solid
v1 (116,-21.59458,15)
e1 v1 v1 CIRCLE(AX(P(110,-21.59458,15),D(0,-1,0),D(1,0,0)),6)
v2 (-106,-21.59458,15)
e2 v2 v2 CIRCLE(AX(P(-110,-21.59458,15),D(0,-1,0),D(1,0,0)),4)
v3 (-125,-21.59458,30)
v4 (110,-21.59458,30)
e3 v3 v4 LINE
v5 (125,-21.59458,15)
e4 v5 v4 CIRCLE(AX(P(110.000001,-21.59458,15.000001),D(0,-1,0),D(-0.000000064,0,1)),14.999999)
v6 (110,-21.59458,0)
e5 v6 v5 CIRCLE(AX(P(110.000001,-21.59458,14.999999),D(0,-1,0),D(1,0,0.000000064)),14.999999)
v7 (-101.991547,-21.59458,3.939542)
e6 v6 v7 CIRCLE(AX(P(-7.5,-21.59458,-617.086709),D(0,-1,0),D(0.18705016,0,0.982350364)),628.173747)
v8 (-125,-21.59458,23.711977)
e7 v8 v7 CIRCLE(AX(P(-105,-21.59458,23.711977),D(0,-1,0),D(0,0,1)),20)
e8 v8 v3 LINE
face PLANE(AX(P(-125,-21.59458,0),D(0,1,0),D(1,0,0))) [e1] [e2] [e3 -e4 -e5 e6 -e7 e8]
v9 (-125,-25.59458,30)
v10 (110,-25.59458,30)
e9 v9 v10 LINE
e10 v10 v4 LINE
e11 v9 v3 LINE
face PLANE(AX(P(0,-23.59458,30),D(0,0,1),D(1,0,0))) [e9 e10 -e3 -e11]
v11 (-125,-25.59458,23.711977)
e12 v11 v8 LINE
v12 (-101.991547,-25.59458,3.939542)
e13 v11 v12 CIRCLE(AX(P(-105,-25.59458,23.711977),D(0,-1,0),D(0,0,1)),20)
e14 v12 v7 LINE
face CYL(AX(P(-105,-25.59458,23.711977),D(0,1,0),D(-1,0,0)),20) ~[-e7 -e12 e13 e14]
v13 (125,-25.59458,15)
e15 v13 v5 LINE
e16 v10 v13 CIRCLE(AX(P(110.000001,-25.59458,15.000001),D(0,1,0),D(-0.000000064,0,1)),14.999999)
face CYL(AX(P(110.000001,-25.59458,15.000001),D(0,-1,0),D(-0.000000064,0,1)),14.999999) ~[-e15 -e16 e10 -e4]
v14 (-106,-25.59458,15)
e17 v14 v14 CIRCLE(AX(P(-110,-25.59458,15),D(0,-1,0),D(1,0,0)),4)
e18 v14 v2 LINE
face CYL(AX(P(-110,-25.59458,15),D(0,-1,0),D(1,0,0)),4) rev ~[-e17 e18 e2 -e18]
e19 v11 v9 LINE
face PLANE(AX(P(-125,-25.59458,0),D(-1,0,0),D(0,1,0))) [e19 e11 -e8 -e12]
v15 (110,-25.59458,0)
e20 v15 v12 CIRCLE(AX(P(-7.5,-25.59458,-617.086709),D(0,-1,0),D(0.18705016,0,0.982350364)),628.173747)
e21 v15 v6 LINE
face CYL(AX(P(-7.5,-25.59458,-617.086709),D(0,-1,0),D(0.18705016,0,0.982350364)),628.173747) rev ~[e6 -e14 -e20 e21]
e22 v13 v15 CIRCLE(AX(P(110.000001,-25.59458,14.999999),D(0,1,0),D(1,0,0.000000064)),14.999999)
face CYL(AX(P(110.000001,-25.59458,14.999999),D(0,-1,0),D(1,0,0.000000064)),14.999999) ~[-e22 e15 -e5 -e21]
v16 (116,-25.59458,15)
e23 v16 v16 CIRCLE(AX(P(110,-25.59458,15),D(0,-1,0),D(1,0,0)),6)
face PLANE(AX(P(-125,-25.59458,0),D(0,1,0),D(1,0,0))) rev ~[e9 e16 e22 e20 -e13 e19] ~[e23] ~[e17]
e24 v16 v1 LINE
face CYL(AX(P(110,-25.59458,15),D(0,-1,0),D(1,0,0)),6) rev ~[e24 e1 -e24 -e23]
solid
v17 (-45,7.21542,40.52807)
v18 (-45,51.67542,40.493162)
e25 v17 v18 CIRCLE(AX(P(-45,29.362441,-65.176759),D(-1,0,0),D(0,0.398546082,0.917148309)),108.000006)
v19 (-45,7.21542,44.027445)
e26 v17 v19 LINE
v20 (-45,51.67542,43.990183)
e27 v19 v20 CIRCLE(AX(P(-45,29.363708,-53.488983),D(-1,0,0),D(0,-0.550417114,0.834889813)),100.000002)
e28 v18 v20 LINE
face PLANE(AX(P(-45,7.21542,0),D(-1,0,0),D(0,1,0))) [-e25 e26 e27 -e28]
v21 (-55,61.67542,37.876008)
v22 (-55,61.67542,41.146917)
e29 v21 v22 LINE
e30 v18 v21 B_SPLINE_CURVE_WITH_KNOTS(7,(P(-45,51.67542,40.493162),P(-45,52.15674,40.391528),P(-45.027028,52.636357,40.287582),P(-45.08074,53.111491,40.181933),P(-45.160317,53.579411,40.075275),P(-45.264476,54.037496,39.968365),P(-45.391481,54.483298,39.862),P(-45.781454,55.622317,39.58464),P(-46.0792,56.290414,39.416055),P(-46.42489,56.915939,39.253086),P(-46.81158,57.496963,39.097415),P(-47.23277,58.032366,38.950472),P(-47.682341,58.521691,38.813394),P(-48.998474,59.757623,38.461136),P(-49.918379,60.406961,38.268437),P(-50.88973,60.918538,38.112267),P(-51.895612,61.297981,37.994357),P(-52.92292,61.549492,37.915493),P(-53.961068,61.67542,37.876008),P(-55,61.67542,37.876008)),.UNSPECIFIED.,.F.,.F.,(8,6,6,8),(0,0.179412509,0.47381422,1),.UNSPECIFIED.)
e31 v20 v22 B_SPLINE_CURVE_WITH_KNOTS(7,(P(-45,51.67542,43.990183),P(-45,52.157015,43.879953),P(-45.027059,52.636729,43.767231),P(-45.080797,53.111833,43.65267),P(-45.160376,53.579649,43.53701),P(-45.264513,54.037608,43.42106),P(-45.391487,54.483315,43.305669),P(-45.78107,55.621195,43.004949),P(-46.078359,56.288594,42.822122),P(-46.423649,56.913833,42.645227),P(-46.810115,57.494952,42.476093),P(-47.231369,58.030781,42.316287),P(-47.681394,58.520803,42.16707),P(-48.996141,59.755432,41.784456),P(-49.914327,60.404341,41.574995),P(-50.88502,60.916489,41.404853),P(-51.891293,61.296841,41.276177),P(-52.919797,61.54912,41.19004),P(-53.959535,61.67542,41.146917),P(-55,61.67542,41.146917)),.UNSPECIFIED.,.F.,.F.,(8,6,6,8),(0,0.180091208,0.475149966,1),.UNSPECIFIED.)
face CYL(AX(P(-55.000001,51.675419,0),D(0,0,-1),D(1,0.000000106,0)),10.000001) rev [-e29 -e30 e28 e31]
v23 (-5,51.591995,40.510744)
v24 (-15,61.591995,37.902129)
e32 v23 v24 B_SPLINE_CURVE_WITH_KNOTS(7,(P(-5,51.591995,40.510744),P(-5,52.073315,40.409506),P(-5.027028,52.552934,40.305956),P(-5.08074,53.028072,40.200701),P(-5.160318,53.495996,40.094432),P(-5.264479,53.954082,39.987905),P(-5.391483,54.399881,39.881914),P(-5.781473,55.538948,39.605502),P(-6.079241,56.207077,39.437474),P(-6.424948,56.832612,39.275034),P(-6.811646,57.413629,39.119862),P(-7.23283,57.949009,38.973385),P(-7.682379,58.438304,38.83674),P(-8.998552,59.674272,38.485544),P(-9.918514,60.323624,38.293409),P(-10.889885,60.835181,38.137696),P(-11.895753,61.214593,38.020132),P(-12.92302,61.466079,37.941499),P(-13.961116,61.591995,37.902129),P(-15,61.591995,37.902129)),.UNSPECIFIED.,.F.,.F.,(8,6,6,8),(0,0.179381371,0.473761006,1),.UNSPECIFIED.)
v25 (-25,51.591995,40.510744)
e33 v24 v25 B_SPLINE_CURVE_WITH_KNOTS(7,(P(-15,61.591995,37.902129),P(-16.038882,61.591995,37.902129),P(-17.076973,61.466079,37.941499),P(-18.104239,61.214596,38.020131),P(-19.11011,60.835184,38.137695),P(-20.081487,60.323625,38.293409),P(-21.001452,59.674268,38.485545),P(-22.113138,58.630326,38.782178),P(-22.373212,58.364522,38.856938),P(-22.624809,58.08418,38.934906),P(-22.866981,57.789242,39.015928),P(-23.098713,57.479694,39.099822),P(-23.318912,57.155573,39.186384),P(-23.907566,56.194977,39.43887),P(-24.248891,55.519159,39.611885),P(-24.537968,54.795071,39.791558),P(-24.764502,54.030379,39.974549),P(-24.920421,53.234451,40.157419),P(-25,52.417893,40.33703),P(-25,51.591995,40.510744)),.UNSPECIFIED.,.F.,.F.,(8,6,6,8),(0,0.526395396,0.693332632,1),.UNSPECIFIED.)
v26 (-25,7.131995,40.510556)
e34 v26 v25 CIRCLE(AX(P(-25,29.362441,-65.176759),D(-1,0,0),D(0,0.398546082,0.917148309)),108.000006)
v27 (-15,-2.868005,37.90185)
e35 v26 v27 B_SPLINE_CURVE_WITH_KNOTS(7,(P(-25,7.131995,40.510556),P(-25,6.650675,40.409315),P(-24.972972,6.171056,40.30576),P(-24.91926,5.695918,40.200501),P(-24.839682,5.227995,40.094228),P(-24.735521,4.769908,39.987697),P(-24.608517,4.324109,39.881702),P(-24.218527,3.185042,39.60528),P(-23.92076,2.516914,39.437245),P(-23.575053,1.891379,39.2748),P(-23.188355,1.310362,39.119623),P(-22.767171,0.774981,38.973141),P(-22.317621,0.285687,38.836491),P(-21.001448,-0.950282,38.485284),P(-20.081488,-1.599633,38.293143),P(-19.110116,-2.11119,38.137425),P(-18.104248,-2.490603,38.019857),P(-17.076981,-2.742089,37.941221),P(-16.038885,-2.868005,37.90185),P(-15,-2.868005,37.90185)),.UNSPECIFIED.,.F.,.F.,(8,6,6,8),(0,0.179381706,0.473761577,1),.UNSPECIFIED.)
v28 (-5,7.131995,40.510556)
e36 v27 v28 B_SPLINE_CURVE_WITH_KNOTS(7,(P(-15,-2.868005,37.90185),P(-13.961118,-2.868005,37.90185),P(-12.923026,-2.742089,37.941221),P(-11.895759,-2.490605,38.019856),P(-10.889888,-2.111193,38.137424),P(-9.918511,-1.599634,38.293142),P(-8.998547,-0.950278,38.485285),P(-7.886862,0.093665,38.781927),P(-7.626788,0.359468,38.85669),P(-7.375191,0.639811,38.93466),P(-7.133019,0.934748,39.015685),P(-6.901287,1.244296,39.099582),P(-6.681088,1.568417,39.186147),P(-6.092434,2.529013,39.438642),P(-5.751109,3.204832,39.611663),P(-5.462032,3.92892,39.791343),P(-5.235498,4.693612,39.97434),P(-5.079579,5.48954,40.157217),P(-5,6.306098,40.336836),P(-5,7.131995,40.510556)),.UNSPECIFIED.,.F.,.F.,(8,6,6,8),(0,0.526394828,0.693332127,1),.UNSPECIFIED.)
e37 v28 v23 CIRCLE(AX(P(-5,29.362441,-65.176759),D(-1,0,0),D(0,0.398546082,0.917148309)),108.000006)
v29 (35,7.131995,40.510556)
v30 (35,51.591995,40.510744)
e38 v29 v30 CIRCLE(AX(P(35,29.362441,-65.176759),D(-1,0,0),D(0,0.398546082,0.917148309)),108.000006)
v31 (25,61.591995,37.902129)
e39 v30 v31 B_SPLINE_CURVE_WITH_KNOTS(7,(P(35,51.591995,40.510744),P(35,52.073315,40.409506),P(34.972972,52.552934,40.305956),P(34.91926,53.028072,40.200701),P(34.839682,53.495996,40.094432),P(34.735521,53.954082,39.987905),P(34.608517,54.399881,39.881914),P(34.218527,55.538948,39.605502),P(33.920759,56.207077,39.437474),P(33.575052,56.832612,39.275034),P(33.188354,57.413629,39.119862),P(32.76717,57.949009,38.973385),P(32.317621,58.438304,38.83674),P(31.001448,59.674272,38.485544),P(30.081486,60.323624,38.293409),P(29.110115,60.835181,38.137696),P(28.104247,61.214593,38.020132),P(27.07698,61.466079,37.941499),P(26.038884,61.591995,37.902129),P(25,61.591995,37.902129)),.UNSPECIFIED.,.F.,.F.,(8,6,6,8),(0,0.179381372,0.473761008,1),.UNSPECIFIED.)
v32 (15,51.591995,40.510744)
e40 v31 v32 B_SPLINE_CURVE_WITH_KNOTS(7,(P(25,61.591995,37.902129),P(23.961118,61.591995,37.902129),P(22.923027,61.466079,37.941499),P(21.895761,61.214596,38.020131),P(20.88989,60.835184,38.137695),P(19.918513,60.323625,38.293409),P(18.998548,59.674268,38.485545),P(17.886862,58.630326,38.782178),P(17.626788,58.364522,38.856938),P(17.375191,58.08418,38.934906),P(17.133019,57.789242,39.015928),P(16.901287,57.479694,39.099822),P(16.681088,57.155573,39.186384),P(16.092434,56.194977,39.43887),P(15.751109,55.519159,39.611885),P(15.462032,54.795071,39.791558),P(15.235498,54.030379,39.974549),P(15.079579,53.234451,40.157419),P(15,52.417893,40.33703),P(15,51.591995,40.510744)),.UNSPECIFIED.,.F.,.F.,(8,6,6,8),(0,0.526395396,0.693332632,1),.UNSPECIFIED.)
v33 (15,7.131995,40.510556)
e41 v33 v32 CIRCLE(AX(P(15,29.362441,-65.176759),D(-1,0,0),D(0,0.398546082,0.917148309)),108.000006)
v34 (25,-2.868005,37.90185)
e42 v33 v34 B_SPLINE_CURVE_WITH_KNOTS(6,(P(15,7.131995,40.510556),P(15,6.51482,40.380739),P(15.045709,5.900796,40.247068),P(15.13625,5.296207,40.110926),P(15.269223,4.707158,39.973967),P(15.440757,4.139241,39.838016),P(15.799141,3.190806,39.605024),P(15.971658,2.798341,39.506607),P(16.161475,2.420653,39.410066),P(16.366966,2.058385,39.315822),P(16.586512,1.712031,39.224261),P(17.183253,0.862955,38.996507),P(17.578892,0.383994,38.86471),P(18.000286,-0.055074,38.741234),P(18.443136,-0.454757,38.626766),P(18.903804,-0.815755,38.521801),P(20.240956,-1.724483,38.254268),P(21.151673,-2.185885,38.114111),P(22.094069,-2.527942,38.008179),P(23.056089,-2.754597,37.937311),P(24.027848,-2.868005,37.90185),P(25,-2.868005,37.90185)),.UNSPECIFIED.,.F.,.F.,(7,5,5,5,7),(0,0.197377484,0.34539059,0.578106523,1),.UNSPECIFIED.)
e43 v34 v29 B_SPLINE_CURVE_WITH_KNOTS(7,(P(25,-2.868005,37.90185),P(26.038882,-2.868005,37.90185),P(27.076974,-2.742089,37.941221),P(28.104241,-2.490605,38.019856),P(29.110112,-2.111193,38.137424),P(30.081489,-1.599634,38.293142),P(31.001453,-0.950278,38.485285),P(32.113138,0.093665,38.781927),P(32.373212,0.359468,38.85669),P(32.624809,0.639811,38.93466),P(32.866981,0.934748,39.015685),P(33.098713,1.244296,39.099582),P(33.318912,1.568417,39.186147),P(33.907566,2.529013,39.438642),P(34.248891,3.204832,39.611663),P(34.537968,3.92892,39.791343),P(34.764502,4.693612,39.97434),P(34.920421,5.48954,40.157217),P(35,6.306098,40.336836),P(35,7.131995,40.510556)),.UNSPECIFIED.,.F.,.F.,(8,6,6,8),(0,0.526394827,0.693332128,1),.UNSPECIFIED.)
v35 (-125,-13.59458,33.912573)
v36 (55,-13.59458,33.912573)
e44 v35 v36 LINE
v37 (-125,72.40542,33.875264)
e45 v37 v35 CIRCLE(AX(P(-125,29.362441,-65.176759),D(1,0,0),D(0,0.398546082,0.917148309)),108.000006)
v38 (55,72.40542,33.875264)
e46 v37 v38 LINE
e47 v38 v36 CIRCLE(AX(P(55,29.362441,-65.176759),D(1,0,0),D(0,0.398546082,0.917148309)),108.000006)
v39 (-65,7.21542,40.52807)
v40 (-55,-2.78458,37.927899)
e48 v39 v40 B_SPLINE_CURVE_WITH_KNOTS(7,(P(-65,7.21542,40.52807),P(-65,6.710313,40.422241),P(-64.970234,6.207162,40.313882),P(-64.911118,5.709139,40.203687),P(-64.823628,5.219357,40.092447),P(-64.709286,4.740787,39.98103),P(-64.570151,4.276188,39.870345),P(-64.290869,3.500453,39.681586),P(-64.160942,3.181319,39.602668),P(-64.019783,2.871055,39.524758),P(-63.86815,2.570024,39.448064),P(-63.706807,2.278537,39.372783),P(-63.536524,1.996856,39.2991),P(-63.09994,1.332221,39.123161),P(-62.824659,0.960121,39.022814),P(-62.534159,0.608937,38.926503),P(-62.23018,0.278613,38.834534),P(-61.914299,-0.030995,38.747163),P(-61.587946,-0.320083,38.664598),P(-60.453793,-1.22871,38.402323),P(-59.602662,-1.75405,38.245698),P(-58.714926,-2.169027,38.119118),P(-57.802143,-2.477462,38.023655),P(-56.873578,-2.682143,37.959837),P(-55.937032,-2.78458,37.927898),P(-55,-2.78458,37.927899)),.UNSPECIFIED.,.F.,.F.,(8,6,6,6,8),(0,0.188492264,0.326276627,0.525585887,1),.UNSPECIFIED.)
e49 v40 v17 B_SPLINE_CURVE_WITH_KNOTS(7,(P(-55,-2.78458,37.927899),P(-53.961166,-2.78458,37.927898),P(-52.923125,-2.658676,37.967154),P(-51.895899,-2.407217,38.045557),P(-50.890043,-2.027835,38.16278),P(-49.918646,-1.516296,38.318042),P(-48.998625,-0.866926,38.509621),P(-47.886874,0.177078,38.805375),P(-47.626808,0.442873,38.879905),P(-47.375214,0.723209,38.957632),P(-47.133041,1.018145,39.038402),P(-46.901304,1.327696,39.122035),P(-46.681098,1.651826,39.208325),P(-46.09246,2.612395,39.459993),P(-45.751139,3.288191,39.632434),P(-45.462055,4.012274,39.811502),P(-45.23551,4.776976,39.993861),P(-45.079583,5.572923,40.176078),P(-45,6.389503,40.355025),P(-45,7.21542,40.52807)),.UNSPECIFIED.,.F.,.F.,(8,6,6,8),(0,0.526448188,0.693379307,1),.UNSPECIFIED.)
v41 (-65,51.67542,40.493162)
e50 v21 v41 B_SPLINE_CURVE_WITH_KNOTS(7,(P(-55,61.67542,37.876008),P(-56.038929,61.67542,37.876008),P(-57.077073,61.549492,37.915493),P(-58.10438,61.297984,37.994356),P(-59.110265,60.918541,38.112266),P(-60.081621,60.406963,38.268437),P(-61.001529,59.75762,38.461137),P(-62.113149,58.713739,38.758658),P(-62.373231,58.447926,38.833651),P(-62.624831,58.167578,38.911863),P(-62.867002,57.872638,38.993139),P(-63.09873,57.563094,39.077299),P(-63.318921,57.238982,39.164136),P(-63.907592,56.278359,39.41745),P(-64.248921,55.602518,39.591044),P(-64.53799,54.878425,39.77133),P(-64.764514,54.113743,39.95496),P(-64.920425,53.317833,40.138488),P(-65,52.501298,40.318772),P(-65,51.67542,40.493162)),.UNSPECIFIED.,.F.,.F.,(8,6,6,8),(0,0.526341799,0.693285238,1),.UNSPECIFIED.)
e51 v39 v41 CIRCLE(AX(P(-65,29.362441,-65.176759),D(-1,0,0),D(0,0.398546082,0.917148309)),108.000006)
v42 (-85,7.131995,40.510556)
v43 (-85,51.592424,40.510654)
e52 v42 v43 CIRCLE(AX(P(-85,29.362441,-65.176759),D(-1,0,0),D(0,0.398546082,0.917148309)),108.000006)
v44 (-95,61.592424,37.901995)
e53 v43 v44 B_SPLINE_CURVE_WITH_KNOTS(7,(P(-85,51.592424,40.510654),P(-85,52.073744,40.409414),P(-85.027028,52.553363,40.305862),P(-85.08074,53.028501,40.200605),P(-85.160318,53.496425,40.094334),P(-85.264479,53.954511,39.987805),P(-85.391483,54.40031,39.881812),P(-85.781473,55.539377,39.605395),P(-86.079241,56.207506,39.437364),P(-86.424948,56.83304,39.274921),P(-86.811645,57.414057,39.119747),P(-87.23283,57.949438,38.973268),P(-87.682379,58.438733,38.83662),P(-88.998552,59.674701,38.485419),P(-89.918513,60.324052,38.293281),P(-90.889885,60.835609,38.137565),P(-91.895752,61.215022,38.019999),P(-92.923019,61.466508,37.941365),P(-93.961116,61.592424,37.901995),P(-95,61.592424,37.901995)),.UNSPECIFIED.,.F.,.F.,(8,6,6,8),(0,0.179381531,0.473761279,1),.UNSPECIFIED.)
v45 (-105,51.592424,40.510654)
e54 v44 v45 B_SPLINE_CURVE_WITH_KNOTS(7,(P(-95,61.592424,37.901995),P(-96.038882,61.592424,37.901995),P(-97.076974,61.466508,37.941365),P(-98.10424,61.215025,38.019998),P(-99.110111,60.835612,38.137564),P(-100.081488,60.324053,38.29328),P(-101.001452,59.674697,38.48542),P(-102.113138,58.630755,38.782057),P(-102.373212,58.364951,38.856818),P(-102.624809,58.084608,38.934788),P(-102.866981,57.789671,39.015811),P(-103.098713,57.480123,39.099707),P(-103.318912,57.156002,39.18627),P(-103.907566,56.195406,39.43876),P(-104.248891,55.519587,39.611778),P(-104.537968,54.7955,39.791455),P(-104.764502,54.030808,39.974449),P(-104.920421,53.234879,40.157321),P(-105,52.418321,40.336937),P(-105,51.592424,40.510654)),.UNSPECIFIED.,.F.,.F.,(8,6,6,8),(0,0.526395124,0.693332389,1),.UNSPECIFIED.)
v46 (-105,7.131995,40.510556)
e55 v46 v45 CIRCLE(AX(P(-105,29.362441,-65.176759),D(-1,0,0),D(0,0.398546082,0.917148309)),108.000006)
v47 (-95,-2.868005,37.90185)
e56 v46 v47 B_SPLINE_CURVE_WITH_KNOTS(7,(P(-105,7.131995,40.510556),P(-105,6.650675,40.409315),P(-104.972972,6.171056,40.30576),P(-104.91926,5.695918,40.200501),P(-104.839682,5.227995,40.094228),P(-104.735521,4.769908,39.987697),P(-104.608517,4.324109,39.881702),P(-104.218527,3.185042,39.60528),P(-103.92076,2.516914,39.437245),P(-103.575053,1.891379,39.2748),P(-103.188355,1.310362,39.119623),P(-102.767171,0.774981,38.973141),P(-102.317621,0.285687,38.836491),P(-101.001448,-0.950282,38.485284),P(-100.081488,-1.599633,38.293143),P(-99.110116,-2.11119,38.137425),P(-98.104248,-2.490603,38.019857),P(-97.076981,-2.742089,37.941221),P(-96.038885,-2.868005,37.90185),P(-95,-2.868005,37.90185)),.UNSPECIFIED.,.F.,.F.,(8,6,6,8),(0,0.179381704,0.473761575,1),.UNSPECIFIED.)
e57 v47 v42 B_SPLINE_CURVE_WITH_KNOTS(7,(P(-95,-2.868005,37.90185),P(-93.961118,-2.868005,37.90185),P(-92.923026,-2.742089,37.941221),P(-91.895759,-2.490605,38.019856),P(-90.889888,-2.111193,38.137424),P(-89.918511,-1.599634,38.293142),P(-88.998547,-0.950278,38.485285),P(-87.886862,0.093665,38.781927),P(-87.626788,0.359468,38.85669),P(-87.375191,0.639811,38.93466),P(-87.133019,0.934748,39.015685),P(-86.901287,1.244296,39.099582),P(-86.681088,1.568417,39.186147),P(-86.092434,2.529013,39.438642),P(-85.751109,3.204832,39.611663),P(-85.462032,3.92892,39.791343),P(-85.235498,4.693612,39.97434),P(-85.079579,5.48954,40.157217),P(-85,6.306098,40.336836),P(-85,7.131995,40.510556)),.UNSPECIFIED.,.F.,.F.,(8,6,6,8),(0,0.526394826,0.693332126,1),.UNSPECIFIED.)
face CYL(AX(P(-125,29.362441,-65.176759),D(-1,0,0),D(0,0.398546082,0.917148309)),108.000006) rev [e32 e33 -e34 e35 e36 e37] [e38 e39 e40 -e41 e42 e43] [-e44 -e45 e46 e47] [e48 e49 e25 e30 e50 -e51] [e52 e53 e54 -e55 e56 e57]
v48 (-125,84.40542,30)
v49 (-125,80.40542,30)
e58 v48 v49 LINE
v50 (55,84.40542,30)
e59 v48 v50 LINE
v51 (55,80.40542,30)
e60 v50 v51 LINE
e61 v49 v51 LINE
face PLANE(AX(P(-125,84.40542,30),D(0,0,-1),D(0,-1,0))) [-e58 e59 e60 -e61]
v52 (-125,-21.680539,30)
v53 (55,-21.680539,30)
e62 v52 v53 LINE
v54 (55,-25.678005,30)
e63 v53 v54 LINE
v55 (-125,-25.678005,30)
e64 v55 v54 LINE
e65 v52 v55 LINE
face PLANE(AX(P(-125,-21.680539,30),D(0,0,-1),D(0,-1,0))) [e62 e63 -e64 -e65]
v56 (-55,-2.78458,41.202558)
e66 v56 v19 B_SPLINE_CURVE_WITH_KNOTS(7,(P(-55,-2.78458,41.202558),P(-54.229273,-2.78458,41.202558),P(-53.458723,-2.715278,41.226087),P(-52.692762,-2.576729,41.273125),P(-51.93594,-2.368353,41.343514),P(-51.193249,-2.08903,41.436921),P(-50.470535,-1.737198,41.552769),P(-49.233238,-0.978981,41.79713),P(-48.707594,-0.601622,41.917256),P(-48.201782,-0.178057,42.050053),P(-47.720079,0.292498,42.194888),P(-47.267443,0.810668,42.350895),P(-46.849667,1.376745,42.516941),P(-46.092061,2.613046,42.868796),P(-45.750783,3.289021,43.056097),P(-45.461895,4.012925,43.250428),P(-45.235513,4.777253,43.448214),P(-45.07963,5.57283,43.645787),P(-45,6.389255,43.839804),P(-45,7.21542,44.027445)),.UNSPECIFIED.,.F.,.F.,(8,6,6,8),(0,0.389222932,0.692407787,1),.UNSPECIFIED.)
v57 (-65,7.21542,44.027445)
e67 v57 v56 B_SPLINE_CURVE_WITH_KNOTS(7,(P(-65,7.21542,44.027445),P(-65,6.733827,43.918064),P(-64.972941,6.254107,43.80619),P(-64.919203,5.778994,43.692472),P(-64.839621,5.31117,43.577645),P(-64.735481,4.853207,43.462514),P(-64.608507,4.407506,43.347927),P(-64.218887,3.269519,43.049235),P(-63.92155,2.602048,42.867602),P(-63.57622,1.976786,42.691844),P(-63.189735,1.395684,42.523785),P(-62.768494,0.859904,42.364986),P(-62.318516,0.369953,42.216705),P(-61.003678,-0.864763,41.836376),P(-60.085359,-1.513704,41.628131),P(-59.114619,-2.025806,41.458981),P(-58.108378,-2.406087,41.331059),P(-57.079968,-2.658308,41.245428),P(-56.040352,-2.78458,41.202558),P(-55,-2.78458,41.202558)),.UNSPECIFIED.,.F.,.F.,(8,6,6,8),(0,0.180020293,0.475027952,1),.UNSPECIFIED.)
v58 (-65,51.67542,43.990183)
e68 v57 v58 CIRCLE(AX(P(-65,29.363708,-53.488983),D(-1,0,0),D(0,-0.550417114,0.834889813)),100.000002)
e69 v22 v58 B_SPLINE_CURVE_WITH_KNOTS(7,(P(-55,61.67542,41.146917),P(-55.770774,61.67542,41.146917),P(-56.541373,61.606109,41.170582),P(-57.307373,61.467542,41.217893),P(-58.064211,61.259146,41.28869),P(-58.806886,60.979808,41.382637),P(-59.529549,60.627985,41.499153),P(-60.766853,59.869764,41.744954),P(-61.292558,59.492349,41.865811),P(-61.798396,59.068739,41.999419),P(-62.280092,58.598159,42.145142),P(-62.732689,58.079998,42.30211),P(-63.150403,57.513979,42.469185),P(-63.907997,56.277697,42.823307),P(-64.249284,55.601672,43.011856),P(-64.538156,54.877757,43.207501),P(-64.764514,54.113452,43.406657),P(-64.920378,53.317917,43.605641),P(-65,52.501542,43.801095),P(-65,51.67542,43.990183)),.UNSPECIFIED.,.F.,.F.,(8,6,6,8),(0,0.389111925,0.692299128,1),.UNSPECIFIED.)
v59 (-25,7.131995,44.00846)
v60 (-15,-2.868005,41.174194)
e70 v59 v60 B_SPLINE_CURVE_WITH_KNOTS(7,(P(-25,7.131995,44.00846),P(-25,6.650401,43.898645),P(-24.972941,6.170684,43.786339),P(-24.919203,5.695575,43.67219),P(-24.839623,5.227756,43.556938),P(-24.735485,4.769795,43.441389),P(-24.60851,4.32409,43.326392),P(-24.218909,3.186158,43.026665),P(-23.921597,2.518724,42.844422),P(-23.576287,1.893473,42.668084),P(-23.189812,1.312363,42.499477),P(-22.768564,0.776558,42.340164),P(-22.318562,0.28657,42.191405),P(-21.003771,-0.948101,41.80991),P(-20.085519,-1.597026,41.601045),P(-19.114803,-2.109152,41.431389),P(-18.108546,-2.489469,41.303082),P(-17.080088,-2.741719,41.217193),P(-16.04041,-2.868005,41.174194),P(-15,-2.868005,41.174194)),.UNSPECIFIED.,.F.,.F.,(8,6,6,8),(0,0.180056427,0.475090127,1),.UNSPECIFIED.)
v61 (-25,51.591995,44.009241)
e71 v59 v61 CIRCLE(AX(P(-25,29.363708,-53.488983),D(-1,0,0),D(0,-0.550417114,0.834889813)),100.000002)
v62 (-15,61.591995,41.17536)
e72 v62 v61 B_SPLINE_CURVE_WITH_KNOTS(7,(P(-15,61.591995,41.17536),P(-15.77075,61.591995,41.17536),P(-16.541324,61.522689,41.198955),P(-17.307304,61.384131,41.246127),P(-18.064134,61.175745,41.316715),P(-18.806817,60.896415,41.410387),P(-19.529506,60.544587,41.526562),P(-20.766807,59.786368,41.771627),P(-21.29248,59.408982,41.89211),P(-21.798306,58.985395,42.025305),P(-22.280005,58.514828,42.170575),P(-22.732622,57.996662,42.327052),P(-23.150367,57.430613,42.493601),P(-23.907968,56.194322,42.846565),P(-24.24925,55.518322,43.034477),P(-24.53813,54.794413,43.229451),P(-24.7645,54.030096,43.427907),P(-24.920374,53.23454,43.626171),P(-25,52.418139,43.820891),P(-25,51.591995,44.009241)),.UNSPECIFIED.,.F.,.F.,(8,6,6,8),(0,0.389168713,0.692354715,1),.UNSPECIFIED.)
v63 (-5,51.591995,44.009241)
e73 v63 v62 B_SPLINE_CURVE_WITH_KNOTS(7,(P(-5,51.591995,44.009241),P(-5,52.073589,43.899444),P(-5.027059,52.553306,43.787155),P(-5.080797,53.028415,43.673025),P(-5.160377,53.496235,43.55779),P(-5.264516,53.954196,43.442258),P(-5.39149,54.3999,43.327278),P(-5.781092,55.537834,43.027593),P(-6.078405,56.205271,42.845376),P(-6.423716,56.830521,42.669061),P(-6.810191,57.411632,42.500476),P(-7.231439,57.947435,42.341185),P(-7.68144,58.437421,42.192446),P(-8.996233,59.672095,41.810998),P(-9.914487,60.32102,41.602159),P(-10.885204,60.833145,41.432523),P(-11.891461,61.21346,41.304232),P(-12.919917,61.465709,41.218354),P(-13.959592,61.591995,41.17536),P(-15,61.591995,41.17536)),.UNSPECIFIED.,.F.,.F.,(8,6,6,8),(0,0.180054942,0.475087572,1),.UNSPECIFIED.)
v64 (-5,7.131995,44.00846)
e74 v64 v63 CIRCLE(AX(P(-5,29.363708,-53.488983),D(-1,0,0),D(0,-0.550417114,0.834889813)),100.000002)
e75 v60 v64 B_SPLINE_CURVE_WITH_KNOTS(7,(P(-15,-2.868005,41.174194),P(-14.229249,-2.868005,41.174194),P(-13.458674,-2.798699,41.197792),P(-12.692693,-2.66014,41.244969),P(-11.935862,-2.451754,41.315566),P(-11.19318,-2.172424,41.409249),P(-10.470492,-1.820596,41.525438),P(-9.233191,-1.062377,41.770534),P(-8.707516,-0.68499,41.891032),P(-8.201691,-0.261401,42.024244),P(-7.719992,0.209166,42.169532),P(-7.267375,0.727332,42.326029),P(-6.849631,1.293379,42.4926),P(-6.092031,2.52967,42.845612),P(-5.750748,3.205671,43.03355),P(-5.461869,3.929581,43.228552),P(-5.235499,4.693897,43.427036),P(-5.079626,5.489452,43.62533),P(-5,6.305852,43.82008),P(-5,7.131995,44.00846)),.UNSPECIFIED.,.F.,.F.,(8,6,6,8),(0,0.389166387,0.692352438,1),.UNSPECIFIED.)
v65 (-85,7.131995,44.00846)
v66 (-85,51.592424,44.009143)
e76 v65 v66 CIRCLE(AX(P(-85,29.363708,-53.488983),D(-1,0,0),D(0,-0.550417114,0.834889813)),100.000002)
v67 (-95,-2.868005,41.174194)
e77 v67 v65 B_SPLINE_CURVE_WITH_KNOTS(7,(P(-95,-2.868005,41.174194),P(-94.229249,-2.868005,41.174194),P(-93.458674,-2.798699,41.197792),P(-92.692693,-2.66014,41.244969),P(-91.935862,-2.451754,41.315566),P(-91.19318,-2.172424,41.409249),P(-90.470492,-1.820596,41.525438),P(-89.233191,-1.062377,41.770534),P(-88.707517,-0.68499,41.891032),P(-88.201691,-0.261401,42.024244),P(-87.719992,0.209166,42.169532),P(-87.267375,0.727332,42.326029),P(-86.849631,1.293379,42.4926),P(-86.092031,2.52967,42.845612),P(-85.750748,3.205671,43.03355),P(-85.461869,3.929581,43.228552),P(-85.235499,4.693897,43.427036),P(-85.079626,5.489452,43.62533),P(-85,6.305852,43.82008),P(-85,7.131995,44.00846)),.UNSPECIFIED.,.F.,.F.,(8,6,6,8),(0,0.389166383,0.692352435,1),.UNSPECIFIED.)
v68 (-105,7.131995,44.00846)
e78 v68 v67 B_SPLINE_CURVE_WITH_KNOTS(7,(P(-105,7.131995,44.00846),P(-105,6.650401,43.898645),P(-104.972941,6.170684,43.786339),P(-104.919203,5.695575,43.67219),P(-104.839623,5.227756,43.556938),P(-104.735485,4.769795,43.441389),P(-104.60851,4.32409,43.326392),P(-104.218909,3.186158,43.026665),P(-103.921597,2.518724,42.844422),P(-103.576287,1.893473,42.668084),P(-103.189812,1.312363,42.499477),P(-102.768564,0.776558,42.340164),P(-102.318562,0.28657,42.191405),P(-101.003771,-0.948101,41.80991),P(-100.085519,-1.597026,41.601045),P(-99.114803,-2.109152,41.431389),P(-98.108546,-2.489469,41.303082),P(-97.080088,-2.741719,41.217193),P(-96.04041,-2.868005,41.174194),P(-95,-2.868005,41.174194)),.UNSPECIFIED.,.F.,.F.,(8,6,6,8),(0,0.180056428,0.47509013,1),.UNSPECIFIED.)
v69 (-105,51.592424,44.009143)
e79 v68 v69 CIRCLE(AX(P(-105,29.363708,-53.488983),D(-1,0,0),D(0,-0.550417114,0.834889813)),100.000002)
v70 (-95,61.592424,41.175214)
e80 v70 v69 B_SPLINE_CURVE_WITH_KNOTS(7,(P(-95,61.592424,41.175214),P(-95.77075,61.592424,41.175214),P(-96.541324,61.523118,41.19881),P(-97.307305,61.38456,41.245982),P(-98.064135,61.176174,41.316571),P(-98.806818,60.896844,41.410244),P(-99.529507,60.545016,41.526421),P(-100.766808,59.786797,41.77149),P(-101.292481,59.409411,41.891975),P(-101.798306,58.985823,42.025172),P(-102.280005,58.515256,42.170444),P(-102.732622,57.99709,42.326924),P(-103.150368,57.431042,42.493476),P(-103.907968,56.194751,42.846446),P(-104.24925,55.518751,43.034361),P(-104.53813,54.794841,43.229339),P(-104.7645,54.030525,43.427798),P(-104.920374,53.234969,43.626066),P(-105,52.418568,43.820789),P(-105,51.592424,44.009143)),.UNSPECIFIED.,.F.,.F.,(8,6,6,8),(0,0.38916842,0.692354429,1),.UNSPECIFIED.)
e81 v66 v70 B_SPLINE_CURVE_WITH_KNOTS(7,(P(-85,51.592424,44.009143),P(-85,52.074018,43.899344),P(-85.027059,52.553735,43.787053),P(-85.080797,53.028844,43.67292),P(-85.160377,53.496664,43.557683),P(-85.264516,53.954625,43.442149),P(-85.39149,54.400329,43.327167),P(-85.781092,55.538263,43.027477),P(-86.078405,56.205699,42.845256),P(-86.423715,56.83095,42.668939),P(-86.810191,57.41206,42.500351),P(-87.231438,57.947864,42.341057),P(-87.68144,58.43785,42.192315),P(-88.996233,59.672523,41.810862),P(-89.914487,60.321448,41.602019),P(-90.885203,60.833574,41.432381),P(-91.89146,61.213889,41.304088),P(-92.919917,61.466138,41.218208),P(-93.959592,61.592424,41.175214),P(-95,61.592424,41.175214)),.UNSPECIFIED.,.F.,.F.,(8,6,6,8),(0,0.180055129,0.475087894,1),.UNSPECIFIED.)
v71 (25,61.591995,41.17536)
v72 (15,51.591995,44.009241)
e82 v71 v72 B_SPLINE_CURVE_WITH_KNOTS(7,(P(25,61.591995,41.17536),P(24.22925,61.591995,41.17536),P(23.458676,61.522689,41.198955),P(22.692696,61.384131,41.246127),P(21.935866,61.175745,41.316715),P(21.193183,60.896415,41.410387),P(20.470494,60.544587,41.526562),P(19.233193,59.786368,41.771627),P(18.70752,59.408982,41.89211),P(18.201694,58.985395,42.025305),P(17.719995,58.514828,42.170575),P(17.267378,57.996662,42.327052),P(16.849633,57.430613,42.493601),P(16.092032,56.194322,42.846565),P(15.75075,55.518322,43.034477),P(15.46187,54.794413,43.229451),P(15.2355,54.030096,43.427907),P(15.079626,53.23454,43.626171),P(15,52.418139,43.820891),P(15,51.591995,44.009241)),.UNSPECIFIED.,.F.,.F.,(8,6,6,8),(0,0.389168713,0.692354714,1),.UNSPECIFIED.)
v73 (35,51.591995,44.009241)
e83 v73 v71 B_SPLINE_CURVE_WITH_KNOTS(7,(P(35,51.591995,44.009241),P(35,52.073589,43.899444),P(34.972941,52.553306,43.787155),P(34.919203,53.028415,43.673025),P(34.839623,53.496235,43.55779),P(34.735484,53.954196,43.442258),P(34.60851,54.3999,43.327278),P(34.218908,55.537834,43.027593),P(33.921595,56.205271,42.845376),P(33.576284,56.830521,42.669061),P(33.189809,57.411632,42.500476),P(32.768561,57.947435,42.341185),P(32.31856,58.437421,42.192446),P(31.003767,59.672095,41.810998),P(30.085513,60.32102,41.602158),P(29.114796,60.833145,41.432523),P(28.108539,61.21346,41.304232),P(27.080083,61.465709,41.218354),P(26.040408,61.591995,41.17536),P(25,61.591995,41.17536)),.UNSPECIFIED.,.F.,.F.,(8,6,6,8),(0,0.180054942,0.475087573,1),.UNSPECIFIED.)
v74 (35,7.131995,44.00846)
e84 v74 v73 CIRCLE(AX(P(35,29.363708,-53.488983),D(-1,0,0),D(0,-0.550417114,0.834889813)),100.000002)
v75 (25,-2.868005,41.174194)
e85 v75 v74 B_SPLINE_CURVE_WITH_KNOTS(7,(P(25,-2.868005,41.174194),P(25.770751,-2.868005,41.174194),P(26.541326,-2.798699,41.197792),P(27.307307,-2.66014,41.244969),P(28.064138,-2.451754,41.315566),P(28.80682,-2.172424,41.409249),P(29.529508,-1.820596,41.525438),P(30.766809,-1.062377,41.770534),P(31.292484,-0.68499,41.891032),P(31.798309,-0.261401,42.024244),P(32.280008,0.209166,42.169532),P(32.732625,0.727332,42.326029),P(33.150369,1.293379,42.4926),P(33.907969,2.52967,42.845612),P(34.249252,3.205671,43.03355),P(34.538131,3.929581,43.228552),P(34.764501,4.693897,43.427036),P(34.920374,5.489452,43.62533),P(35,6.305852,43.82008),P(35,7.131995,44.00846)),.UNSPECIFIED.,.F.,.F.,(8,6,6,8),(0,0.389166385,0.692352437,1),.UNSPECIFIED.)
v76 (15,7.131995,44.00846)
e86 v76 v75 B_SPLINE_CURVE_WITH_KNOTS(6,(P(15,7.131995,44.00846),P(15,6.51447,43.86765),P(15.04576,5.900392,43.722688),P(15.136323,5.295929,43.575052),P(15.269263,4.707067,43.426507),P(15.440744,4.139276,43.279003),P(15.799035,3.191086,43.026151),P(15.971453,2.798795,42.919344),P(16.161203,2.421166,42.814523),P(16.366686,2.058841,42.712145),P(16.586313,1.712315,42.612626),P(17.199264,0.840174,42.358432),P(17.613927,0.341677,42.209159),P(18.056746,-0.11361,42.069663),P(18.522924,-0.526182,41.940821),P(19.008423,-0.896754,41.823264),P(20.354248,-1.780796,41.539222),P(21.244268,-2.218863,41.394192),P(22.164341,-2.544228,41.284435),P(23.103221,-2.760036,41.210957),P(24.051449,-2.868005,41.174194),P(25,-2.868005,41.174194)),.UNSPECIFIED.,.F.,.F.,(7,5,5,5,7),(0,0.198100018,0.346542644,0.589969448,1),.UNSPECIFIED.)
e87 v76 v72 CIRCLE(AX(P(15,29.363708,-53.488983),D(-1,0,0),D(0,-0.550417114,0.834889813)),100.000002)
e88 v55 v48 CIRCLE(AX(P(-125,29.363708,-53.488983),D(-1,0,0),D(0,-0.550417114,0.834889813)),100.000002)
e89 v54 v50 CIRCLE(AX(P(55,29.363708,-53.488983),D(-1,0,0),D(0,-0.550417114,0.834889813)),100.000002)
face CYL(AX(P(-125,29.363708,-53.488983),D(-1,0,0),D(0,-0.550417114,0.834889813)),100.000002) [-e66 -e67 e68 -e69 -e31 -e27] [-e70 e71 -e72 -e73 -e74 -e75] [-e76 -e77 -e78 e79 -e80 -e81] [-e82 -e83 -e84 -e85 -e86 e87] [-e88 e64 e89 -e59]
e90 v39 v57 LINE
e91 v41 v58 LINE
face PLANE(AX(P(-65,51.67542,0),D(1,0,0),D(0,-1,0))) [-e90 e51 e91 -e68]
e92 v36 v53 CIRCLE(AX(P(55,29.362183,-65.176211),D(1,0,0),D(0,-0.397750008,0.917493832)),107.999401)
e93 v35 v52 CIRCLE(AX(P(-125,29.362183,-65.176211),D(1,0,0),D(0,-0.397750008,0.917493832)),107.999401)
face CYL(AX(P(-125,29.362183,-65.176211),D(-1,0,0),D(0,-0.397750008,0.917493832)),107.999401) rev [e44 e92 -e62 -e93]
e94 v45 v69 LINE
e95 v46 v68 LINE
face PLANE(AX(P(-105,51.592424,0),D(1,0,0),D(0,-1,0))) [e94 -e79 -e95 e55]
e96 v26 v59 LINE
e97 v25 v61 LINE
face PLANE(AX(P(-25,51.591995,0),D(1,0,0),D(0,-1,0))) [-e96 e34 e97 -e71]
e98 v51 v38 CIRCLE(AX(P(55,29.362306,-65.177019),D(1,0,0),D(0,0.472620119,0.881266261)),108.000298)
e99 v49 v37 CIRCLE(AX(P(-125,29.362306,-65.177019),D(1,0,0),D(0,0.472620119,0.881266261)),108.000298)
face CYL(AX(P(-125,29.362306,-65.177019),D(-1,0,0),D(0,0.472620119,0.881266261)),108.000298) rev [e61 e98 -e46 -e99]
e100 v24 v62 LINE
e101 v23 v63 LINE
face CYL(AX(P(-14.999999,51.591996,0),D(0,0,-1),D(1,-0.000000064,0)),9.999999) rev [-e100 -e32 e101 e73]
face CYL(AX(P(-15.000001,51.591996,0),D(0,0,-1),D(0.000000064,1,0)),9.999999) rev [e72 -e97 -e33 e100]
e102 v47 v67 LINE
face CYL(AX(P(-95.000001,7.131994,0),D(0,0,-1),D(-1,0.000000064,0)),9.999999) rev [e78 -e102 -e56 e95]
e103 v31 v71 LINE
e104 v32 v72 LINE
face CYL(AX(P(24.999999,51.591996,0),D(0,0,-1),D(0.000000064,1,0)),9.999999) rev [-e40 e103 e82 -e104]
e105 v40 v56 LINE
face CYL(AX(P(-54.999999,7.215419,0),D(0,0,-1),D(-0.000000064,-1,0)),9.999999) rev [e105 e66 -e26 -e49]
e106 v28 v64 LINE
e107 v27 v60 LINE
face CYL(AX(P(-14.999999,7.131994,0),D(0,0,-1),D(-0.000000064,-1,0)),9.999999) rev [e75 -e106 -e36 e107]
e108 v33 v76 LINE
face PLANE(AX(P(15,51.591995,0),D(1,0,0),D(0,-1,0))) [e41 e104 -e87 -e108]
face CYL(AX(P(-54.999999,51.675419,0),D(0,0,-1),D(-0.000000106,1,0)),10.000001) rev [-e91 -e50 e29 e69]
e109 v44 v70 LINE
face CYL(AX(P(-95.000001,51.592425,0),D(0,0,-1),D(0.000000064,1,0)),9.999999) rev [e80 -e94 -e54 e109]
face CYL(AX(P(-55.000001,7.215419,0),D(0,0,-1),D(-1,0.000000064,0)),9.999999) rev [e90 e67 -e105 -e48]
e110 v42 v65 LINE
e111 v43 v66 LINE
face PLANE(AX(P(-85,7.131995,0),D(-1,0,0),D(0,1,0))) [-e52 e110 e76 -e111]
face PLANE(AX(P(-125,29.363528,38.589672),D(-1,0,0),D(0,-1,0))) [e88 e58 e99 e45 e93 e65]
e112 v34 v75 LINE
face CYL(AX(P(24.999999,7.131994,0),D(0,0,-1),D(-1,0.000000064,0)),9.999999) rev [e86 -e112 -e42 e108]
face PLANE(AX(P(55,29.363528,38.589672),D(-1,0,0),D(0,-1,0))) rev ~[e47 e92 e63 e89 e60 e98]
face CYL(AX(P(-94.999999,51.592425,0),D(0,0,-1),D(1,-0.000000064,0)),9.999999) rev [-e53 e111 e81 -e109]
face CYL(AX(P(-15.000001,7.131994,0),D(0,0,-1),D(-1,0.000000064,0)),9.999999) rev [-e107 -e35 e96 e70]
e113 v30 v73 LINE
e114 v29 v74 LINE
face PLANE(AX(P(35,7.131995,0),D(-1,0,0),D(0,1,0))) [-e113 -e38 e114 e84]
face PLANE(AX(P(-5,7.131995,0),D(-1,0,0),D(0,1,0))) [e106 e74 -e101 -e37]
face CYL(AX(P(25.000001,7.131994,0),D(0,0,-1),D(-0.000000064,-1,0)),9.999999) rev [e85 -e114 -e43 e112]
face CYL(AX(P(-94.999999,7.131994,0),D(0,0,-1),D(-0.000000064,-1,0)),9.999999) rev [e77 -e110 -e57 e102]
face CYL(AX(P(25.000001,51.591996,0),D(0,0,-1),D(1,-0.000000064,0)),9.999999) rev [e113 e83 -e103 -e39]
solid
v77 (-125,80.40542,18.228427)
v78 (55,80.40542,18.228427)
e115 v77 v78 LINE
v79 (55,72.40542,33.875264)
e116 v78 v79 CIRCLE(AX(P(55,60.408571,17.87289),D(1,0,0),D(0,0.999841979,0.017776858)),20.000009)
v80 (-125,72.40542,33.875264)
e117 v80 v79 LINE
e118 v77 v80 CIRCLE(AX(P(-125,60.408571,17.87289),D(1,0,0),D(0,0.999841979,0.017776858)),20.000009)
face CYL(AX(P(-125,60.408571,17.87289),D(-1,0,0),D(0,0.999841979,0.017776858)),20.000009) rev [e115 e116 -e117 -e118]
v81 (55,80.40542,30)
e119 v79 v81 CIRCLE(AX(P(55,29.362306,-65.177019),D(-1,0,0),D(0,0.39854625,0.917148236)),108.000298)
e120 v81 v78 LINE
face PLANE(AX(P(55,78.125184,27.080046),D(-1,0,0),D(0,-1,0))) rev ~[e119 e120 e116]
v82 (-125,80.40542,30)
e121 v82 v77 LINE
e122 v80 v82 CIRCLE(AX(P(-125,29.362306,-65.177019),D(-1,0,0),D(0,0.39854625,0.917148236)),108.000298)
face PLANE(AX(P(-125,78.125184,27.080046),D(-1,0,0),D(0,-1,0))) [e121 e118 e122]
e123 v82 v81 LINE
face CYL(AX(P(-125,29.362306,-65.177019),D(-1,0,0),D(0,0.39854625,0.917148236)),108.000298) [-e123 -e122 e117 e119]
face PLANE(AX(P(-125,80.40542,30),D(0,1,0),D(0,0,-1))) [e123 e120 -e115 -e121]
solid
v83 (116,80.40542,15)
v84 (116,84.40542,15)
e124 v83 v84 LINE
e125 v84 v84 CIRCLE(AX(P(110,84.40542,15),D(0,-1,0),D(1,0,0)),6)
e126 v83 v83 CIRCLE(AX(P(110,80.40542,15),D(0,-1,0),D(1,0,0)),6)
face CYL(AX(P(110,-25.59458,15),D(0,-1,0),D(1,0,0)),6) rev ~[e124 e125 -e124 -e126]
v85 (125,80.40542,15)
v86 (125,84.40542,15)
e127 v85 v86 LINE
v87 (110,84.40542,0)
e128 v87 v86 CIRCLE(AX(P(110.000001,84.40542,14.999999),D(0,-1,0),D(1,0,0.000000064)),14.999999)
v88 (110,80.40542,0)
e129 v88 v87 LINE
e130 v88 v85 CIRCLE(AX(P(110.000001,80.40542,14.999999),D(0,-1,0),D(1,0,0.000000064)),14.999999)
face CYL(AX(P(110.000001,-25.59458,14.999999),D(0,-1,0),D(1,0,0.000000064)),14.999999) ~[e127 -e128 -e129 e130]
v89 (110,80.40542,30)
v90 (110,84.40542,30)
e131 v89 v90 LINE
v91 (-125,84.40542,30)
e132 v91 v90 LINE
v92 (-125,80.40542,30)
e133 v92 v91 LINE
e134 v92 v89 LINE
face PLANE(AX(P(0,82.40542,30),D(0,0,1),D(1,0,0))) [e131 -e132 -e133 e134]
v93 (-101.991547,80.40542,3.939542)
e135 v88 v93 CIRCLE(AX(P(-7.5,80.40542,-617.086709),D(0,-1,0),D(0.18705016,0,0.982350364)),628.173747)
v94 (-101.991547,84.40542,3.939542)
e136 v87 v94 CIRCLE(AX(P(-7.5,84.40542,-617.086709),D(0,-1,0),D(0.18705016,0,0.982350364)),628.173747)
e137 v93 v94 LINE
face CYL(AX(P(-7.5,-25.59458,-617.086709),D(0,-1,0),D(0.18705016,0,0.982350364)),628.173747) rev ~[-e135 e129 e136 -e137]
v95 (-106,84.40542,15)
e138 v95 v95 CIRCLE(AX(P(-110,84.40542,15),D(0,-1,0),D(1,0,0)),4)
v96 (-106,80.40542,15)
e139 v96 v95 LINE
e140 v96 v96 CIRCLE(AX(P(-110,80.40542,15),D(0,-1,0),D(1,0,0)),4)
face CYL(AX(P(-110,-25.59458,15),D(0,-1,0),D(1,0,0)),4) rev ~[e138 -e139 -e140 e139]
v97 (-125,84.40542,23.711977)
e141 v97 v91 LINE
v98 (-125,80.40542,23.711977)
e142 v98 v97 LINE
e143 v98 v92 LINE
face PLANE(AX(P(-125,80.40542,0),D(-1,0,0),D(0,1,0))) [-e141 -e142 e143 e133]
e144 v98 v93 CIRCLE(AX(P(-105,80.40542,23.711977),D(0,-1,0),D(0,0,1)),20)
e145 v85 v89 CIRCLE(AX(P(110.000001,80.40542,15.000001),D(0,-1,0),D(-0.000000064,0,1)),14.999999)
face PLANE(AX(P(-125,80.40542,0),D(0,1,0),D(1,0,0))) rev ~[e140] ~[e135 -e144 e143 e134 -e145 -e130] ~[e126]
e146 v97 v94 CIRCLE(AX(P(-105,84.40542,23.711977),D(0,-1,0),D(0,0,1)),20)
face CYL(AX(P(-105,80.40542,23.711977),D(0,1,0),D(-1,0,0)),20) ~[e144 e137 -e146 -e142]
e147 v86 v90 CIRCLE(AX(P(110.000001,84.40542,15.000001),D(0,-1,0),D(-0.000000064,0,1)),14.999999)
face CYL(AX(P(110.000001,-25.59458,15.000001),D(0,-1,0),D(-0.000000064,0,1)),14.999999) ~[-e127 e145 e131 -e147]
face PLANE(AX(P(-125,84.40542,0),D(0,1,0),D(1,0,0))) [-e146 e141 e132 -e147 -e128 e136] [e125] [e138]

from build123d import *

# Parameters (mm, degrees)
F0_W      = 250
F0_H      = 4
F1_DEPTH  = 30
F3_DEPTH  = 144.6
F5_DEPTH  = 180
F7_DEPTH  = 70.6
F8_R      = 20
F9_R      = 4
F10_DEPTH = 169.5
F11_R     = 6
F12_DEPTH = 143.3
F13_DEPTH = 180


with BuildPart() as f1:
    # F0 (on Top) → F1 (new body)
    with BuildSketch(Plane.XY):
        with Locations((0, 82.40542)):
            Rectangle(F0_W, F0_H)
        with Locations((0, -23.59458)):
            Rectangle(F0_W, F0_H)
    extrude(amount=F1_DEPTH)

    # F2 (on face) → F3 (cut)
    with BuildSketch(Plane.XZ.offset(25.59458)):
        with BuildLine():
            Line((-125, 0), (110, 0))
            ThreePointArc((110, 0), (-7.5, 11.087038), (-125, 0))
        make_face()
        with BuildLine():
            ThreePointArc((110, 30), (120.606602, 25.606602), (125, 15))
            Line((125, 15), (125, 30))
            Line((125, 30), (110, 30))
        make_face()
        with BuildLine():
            ThreePointArc((125, 15), (120.606602, 4.393398), (110, 0))
            Line((110, 0), (125, 0))
            Line((125, 0), (125, 15))
        make_face()
    extrude(amount=-F3_DEPTH, mode=Mode.SUBTRACT)

    # F8
    f8_edges = [f1.edges().sort_by_distance(p)[0] for p in [
        (-125, 82.40542, 0),
        (-125, -23.59458, 0),
    ]]
    fillet(f8_edges, radius=F8_R)

    # F9 (on face) → F10 (cut)
    with BuildSketch(Plane.XZ.offset(25.59458)):
        with Locations((-110, 15)):
            Circle(F9_R)
    extrude(amount=-F10_DEPTH, mode=Mode.SUBTRACT)

    # F11 (on face) → F12 (cut)
    with BuildSketch(Plane.XZ.offset(25.59458)):
        with Locations((110, 15)):
            Circle(F11_R)
    extrude(amount=-F12_DEPTH, mode=Mode.SUBTRACT)


with BuildPart() as f5:
    # F4 (on face) → F5 (new body)
    with BuildSketch(Plane(origin=(-125, 0, 0), x_dir=(0, -1, 0), z_dir=(-1, 0, 0))):
        with BuildLine():
            ThreePointArc((13.59458, 33.912573), (17.678256, 32.040391), (21.680539, 30))
            Line((21.680539, 30), (25.678005, 30))
            ThreePointArc((25.678005, 30), (-29.363707, 46.511019), (-84.40542, 30))
            Line((-84.40542, 30), (-80.40542, 30))
            ThreePointArc((-80.40542, 30), (-76.445307, 32.019974), (-72.40542, 33.875264))
            ThreePointArc((-72.40542, 33.875264), (-29.409293, 42.823237), (13.59458, 33.912573))
        make_face()
    extrude(amount=-F5_DEPTH)

    # F6 (on Top) → F7 (cut)
    with BuildSketch(Plane.XY):
        with BuildLine():
            ThreePointArc((-95, 61.592424), (-102.071068, 58.663492), (-105, 51.592424))
            Line((-105, 51.592424), (-105, 7.131995))
            ThreePointArc((-105, 7.131995), (-102.071068, 0.060927), (-95, -2.868005))
            ThreePointArc((-95, -2.868005), (-87.928932, 0.060927), (-85, 7.131995))
            Line((-85, 7.131995), (-85, 51.592424))
            ThreePointArc((-85, 51.592424), (-87.928932, 58.663492), (-95, 61.592424))
        make_face()
        with BuildLine():
            ThreePointArc((-55, 61.67542), (-62.071068, 58.746487), (-65, 51.67542))
            Line((-65, 51.67542), (-65, 7.21542))
            ThreePointArc((-65, 7.21542), (-62.071068, 0.144352), (-55, -2.78458))
            ThreePointArc((-55, -2.78458), (-47.928932, 0.144352), (-45, 7.21542))
            Line((-45, 7.21542), (-45, 51.67542))
            ThreePointArc((-45, 51.67542), (-47.928932, 58.746487), (-55, 61.67542))
        make_face()
        with BuildLine():
            ThreePointArc((-15, 61.591995), (-22.071068, 58.663063), (-25, 51.591995))
            Line((-25, 51.591995), (-25, 7.131995))
            ThreePointArc((-25, 7.131995), (-22.071068, 0.060927), (-15, -2.868005))
            ThreePointArc((-15, -2.868005), (-7.928932, 0.060927), (-5, 7.131995))
            Line((-5, 7.131995), (-5, 51.591995))
            ThreePointArc((-5, 51.591995), (-7.928932, 58.663063), (-15, 61.591995))
        make_face()
        with BuildLine():
            ThreePointArc((25, 61.591995), (17.928932, 58.663063), (15, 51.591995))
            Line((15, 51.591995), (15, 7.131995))
            ThreePointArc((15, 7.131995), (17.928932, 0.060927), (25, -2.868005))
            ThreePointArc((25, -2.868005), (32.071068, 0.060927), (35, 7.131995))
            Line((35, 7.131995), (35, 51.591995))
            ThreePointArc((35, 51.591995), (32.071068, 58.663063), (25, 61.591995))
        make_face()
    extrude(amount=F7_DEPTH, mode=Mode.SUBTRACT)


with BuildPart() as f13:
    # F4 (on face) → F13 (new body)
    with BuildSketch(Plane(origin=(-125, 0, 0), x_dir=(0, -1, 0), z_dir=(-1, 0, 0))):
        with BuildLine():
            ThreePointArc((-80.40542, 18.228427), (-78.216015, 26.977576), (-72.40542, 33.875264))
            ThreePointArc((-72.40542, 33.875264), (-76.445307, 32.019974), (-80.40542, 30))
            Line((-80.40542, 30), (-80.40542, 18.228427))
        make_face()
    extrude(amount=-F13_DEPTH)


solid = Compound([f1.part, f5.part, f13.part])
